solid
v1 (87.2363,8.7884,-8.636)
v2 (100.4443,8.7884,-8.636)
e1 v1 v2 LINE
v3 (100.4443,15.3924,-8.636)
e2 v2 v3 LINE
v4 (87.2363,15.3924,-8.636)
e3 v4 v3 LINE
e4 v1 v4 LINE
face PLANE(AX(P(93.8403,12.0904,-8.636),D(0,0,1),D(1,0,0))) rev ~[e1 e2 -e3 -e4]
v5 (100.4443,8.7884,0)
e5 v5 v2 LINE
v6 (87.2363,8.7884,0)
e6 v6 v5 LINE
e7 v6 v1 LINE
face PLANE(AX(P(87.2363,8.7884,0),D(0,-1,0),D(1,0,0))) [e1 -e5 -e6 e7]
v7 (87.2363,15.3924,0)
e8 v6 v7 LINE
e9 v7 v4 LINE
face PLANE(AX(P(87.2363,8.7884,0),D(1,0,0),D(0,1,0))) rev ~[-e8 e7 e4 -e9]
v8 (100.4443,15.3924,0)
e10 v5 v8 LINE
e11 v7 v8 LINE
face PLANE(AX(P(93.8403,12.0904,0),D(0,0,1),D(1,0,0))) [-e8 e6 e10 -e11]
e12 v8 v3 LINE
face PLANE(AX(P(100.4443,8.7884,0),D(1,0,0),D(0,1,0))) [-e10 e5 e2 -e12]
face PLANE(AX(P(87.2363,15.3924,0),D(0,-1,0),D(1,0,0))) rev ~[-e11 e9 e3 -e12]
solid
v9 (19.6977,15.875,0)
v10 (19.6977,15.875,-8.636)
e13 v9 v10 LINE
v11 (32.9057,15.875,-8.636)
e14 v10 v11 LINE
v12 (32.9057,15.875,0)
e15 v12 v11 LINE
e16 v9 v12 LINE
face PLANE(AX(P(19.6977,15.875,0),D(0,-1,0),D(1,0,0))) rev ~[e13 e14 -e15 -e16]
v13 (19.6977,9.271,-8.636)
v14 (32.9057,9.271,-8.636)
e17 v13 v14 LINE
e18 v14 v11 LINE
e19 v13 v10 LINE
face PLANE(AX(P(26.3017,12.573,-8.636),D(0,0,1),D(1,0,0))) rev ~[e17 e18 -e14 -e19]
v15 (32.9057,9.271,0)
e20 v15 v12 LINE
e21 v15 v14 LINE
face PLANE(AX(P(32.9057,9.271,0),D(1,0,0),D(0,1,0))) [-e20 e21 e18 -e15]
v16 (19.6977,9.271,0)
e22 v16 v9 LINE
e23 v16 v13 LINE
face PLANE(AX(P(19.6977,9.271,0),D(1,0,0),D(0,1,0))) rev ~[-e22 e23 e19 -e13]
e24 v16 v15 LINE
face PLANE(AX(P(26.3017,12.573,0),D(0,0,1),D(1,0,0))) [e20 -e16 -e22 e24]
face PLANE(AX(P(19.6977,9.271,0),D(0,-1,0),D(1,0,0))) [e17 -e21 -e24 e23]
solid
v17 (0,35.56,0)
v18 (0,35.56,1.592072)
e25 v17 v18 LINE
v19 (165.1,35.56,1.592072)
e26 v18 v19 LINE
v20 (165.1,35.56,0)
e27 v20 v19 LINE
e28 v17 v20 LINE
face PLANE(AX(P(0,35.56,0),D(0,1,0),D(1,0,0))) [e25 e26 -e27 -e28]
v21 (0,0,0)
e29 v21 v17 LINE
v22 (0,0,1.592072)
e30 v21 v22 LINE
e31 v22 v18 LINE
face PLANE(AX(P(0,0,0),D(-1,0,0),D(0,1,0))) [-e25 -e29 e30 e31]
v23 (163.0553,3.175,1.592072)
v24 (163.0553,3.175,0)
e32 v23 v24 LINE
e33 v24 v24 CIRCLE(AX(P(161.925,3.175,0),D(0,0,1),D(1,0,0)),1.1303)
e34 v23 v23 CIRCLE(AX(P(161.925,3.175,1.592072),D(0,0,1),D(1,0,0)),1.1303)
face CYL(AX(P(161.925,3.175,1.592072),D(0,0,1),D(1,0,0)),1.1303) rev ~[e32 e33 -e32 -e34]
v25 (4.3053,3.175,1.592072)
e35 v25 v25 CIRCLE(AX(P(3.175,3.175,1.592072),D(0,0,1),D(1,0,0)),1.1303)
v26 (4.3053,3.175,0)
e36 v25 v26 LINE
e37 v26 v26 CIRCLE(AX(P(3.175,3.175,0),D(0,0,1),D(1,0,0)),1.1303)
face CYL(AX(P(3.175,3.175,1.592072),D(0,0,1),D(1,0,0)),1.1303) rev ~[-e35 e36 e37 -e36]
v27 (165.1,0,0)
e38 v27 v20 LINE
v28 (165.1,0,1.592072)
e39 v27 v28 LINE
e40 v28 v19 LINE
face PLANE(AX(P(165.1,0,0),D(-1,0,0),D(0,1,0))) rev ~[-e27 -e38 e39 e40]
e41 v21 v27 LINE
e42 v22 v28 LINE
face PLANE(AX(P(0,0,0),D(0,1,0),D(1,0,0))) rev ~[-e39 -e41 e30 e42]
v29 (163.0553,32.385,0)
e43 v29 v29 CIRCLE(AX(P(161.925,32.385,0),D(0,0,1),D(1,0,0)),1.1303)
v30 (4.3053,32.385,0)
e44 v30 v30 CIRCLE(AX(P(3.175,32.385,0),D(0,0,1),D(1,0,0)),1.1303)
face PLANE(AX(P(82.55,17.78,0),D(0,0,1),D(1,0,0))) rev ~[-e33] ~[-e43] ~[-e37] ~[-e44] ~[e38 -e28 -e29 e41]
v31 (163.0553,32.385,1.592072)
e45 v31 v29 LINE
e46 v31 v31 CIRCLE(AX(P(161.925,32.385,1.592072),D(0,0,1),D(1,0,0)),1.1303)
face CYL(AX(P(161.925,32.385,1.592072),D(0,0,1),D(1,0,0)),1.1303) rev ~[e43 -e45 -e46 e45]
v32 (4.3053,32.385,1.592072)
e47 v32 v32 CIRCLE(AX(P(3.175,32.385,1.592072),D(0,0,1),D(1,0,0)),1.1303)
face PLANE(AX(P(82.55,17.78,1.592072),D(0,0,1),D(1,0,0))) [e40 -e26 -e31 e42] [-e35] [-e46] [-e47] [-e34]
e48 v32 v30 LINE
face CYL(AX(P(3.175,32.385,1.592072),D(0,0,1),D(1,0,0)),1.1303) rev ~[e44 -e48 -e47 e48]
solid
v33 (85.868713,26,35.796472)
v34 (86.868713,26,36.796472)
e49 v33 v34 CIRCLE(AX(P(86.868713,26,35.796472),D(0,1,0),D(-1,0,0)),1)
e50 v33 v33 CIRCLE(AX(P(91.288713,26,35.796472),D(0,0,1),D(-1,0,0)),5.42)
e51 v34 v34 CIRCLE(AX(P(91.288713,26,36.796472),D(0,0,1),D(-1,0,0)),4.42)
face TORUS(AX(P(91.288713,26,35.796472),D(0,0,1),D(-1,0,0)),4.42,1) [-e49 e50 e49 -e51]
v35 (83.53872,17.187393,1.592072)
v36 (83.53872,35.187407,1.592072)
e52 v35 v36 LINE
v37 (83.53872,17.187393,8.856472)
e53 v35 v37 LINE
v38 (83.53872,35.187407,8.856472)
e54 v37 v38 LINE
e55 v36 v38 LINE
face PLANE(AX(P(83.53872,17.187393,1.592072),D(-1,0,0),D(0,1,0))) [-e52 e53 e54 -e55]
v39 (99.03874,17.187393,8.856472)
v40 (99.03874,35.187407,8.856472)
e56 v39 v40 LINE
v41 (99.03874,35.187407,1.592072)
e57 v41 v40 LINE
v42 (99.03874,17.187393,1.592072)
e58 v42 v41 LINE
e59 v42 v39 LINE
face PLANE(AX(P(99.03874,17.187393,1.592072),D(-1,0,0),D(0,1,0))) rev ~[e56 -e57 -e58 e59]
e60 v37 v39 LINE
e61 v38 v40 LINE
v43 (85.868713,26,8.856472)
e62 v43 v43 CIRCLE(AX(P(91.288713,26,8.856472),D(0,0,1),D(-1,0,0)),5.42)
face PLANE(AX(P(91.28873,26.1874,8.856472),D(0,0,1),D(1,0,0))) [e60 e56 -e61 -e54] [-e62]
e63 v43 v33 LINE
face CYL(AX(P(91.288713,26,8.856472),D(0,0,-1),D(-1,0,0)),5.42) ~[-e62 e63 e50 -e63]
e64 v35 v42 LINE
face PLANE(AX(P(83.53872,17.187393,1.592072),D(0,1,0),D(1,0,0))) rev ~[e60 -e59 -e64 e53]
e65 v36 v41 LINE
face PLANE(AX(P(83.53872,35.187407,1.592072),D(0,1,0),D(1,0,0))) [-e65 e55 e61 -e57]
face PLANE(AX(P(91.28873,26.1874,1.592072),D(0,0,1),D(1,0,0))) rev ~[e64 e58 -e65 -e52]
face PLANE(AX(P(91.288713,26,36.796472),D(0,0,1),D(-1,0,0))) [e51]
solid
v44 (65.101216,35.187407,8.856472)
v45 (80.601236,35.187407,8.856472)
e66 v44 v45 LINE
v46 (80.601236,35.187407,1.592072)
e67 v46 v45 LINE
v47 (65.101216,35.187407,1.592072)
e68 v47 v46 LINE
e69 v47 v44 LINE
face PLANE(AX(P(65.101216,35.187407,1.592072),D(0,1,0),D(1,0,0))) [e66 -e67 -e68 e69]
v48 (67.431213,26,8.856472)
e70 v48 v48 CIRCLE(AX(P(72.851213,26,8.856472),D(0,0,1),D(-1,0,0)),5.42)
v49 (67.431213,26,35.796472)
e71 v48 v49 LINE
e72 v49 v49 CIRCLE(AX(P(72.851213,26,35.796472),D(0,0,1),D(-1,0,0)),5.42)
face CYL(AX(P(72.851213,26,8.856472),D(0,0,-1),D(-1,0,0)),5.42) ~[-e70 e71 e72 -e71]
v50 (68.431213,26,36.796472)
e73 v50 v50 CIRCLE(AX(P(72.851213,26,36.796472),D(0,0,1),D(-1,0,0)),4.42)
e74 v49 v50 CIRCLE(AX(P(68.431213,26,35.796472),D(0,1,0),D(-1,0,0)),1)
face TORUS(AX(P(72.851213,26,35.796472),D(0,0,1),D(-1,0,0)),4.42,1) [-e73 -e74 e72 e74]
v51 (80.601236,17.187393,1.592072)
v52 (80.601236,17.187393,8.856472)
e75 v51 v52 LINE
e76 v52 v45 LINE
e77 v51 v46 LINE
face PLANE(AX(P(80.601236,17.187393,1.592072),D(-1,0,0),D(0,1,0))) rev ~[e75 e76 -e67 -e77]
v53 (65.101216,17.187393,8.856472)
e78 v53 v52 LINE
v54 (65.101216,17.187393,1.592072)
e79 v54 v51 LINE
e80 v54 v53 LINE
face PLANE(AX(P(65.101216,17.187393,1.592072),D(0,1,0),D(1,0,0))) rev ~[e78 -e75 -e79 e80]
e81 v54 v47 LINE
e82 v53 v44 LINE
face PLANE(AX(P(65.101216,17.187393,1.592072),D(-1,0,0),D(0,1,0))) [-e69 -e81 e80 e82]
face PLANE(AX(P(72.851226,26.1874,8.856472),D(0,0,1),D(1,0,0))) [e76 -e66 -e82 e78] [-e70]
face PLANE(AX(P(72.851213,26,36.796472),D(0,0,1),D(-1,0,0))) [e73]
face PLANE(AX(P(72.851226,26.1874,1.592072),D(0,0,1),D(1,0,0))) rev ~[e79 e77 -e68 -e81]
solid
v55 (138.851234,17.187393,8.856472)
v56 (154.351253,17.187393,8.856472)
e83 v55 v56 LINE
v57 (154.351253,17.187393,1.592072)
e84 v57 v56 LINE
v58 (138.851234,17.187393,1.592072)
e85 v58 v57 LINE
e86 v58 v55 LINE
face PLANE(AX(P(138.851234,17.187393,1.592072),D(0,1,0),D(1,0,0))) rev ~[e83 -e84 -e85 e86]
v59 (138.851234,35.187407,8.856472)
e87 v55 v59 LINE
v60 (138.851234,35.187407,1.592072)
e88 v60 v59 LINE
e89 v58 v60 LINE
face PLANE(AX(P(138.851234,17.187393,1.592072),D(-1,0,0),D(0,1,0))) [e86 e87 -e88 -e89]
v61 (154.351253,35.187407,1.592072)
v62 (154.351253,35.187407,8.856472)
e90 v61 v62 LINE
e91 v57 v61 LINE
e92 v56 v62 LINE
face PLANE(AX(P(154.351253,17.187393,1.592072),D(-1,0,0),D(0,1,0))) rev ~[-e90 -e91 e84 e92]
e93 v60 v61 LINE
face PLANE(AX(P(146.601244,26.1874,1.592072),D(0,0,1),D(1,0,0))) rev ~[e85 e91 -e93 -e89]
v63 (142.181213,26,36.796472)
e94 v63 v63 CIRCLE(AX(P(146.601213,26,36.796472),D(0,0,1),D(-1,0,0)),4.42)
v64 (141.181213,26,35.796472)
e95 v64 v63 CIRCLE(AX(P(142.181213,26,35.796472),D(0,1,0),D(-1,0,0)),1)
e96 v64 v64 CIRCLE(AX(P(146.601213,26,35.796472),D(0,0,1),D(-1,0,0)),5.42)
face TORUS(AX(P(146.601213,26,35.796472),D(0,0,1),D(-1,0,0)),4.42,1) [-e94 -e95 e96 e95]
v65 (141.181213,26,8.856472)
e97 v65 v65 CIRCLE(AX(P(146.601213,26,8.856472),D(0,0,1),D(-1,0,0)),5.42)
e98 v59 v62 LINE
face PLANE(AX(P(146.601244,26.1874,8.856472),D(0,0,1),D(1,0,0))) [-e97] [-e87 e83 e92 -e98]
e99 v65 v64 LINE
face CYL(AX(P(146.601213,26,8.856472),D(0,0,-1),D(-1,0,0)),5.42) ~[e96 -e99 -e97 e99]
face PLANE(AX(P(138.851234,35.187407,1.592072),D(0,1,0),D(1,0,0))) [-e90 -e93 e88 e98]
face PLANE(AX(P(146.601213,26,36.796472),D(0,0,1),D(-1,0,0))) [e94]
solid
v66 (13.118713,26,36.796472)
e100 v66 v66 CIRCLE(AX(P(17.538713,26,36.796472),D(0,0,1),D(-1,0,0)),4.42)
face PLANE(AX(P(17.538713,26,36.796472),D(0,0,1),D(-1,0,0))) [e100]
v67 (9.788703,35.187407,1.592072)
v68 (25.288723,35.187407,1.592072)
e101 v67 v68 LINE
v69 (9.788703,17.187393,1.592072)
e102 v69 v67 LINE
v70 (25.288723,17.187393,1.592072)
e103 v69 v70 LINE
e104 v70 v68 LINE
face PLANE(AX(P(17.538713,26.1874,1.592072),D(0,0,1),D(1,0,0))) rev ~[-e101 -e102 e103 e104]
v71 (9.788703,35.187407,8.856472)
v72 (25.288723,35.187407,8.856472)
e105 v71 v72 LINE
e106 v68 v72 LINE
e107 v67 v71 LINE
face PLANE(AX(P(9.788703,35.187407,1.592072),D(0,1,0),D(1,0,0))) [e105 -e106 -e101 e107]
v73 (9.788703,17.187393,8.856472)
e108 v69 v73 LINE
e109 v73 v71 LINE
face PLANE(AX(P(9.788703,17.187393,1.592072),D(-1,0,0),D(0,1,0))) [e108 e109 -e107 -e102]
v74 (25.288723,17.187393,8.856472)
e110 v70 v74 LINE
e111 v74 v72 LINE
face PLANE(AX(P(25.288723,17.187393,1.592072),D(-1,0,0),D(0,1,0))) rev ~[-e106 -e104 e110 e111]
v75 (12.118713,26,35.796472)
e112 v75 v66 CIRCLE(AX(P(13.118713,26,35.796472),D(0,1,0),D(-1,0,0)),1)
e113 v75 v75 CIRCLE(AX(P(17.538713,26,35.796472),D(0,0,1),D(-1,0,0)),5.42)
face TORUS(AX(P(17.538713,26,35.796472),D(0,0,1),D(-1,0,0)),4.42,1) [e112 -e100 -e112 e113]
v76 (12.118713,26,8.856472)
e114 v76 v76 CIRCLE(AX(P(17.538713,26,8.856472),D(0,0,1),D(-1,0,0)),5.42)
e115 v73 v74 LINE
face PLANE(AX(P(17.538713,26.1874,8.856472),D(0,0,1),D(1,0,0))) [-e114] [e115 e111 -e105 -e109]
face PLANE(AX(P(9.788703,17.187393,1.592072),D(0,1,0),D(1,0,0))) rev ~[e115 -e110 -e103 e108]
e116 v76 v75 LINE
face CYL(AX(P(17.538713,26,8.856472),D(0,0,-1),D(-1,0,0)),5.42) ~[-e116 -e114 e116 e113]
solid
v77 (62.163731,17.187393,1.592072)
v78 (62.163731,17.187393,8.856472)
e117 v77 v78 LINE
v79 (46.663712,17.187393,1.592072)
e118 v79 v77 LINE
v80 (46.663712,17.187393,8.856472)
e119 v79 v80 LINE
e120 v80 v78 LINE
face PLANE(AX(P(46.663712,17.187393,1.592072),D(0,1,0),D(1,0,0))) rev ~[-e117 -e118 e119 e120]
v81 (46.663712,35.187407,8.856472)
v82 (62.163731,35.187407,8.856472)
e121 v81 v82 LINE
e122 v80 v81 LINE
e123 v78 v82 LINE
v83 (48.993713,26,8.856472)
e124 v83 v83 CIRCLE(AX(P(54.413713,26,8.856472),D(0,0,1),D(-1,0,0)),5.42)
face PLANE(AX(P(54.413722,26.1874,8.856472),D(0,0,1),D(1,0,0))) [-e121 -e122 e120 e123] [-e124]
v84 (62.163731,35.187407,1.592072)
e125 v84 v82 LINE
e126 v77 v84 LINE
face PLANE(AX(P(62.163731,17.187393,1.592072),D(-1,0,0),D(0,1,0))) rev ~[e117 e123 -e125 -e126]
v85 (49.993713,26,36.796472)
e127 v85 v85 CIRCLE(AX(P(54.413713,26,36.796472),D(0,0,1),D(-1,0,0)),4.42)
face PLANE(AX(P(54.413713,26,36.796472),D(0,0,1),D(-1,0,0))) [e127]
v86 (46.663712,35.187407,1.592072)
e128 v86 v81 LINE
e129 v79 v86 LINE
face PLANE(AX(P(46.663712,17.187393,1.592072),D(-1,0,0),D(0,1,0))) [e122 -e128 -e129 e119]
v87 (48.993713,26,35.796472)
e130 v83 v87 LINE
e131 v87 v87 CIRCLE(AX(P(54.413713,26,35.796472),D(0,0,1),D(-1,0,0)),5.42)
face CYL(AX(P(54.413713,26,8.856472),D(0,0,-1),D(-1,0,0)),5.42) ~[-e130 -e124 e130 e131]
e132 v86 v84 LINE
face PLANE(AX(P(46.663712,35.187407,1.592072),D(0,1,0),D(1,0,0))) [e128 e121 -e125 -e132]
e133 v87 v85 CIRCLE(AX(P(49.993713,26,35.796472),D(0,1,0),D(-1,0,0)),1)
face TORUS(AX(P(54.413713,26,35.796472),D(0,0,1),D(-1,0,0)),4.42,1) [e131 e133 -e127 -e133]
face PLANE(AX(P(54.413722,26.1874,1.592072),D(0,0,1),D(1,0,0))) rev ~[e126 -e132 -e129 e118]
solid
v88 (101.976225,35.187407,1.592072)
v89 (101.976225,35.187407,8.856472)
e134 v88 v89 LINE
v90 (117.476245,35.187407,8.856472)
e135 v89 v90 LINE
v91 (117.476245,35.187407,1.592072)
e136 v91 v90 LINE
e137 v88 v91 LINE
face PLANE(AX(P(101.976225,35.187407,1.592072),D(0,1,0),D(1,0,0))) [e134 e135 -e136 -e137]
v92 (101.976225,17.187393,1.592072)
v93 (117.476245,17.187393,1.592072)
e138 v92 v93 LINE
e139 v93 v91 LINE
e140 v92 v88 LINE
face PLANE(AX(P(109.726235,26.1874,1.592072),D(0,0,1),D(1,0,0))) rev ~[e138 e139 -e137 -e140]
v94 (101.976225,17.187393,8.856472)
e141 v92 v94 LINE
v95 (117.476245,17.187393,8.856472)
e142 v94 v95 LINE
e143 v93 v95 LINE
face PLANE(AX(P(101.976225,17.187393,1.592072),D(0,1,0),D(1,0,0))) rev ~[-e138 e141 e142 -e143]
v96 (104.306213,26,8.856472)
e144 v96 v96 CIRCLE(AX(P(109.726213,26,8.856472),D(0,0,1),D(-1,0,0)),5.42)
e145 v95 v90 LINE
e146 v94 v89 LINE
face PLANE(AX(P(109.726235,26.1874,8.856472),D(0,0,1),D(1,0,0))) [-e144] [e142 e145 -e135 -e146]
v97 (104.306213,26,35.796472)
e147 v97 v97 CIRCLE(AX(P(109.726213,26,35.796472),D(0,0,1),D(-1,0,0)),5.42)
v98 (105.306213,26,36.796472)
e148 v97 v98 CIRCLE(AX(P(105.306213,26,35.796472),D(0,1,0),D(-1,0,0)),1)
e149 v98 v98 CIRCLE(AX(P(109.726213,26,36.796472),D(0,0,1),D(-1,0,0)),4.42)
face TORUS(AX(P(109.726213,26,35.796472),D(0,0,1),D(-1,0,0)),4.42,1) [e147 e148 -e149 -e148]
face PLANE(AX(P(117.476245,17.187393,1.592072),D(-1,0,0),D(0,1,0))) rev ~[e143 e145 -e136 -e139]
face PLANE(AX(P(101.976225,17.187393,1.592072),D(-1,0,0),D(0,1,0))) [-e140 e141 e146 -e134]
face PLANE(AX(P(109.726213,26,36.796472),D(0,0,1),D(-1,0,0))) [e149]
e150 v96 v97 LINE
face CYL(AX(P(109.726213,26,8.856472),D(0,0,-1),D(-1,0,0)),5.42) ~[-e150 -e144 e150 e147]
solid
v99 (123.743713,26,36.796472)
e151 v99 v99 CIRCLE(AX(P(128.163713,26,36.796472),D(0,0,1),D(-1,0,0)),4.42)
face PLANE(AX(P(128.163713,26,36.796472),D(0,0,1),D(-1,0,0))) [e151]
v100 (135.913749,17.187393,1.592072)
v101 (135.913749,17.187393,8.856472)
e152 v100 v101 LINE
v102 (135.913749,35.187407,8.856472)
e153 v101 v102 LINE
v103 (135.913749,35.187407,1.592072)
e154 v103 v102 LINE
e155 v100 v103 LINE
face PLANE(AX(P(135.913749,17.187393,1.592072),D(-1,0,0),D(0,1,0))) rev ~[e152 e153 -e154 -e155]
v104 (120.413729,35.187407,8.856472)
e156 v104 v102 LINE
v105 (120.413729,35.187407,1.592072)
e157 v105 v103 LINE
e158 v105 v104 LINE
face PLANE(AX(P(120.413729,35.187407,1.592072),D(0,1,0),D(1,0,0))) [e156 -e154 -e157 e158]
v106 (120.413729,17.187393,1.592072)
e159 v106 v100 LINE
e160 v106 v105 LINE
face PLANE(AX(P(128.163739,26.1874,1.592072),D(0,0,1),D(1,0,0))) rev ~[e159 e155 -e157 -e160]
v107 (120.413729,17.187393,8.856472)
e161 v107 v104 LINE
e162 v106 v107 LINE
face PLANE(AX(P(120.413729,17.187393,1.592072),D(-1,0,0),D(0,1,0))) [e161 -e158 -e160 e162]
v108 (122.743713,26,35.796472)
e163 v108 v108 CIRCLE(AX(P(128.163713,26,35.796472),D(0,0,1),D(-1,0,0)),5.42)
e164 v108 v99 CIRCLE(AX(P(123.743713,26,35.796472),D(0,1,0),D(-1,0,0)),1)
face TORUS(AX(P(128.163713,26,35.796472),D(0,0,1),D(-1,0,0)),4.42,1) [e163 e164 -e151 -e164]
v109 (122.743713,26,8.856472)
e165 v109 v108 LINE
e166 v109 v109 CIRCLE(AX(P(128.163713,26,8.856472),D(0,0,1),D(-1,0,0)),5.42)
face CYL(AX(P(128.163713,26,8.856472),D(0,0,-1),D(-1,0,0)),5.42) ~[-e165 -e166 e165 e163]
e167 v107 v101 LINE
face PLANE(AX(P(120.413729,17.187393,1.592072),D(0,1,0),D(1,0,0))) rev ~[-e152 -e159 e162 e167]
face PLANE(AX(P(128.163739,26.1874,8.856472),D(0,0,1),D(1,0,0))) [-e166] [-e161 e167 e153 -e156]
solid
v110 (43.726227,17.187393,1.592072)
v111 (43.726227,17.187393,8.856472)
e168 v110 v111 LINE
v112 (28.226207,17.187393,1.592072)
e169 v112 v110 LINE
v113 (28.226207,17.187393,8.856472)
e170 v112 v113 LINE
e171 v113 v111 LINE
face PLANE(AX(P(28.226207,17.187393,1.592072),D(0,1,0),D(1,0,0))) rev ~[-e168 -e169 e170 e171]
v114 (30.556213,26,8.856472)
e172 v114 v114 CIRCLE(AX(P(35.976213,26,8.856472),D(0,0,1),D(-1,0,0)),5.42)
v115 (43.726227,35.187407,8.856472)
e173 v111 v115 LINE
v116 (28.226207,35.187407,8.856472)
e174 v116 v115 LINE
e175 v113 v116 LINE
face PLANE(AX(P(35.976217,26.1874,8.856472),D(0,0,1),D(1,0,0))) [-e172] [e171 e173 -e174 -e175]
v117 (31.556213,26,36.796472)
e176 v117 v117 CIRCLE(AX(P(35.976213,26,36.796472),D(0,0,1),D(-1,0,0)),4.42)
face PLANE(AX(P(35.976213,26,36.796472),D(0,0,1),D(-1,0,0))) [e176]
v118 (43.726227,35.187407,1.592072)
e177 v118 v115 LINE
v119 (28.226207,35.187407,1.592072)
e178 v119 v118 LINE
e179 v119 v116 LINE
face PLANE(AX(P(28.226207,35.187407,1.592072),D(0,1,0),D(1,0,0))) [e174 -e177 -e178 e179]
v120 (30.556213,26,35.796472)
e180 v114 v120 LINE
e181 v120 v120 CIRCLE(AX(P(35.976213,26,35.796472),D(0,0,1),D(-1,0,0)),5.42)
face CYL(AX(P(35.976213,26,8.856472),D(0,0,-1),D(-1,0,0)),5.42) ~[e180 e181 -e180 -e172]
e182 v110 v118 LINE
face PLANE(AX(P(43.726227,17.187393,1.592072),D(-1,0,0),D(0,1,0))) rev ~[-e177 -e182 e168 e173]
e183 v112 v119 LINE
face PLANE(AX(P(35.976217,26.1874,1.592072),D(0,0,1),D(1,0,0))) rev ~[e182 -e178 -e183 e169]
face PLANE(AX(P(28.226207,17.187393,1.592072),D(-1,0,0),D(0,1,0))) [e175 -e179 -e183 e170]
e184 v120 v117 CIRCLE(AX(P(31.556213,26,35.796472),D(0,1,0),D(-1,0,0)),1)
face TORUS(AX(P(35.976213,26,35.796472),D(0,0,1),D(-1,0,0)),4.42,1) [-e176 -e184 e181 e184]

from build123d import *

# Parameters (mm, degrees)
SKETCH1_W                         = 165.1
SKETCH1_H                         = 35.56
BOARD_DEPTH                       = 1.592072
SKETCH2_W                         = 13.208
SKETCH2_H                         = 6.604
CONN_AMP_2X5PIN_100MIL_ST_1_DEPTH = 8.636
SKETCH3_W                         = 13.208
SKETCH3_H                         = 6.604
CONN_AMP_2X5PIN_100MIL_ST_2_DEPTH = 8.636
SKETCH4_W                         = 15.5000198
SKETCH4_H                         = 18.0000148
SWITCH_EC11E15244_1_DEPTH         = 7.2644
SKETCH5_W                         = 15.5000198
SKETCH5_H                         = 18.0000148
SWITCH_EC11E15244_2_DEPTH         = 7.2644
SKETCH6_W                         = 15.5000198
SKETCH6_H                         = 18.0000148
SWITCH_EC11E15244_3_DEPTH         = 7.2644
SKETCH7_W                         = 15.5000198
SKETCH7_H                         = 18.0000148
SWITCH_EC11E15244_4_DEPTH         = 7.2644
SKETCH8_W                         = 15.5000198
SKETCH8_H                         = 18.0000148
SWITCH_EC11E15244_5_DEPTH         = 7.2644
SKETCH9_W                         = 15.5000198
SKETCH9_H                         = 18.0000148
SWITCH_EC11E15244_6_DEPTH         = 7.2644
SKETCH10_W                        = 15.5000198
SKETCH10_H                        = 18.0000148
SWITCH_EC11E15244_7_DEPTH         = 7.2644
SKETCH11_W                        = 15.5000198
SKETCH11_H                        = 18.0000148
SWITCH_EC11E15244_8_DEPTH         = 7.2644
SKETCH12_R                        = 5.42
BOSS_EXTRUDE12_DEPTH              = 27.94
FILLET2_R                         = 1
LPATTERN1_COUNT                   = 8
LPATTERN1_PITCH                   = 18.4375
FILLET2_OF_LPATTERN1_R            = 1
SKETCH13_R                        = 1.1303
CUT_EXTRUDE1_DEPTH                = 2.54


with BuildPart() as part:
    # Sketch1 → BOARD (new body)
    with BuildSketch(Plane.XY):
        with Locations((82.55, 17.78)):
            Rectangle(SKETCH1_W, SKETCH1_H)
    extrude(amount=BOARD_DEPTH)

    # Sketch13 → Cut-Extrude1 (cut)
    with BuildSketch(Plane.XY.offset(1.592072)):
        with Locations((3.175, 32.385)):
            Circle(SKETCH13_R)
        with Locations((3.175, 3.175)):
            Circle(SKETCH13_R)
        with Locations((161.925, 3.175)):
            Circle(SKETCH13_R)
        with Locations((161.925, 32.385)):
            Circle(SKETCH13_R)
    extrude(amount=-CUT_EXTRUDE1_DEPTH, mode=Mode.SUBTRACT)


with BuildPart() as body_2:
    # Sketch2 → CONN-AMP-2X5PIN-100MIL-ST-1 (new body)
    with BuildSketch(Plane.XY):
        with Locations((93.8403, 12.0904)):
            Rectangle(SKETCH2_W, SKETCH2_H)
    extrude(amount=-CONN_AMP_2X5PIN_100MIL_ST_1_DEPTH)


with BuildPart() as body_3:
    # Sketch3 → CONN-AMP-2X5PIN-100MIL-ST-2 (new body)
    with BuildSketch(Plane.XY):
        with Locations((26.3017, 12.573)):
            Rectangle(SKETCH3_W, SKETCH3_H)
    extrude(amount=-CONN_AMP_2X5PIN_100MIL_ST_2_DEPTH)


with BuildPart() as body_4:
    # Sketch4 → SWITCH-EC11E15244-1 (new body)
    with BuildSketch(Plane.XY.offset(1.592072)):
        with Locations((146.6012435, 26.1874)):
            Rectangle(SKETCH4_W, SKETCH4_H)
    extrude(amount=SWITCH_EC11E15244_1_DEPTH)


with BuildPart() as body_5:
    # Sketch5 → SWITCH-EC11E15244-2 (new body)
    with BuildSketch(Plane.XY.offset(1.592072)):
        with Locations((128.1637391, 26.1874)):
            Rectangle(SKETCH5_W, SKETCH5_H)
    extrude(amount=SWITCH_EC11E15244_2_DEPTH)


with BuildPart() as body_6:
    # Sketch6 → SWITCH-EC11E15244-3 (new body)
    with BuildSketch(Plane.XY.offset(1.592072)):
        with Locations((109.7262347, 26.1874)):
            Rectangle(SKETCH6_W, SKETCH6_H)
    extrude(amount=SWITCH_EC11E15244_3_DEPTH)


with BuildPart() as body_7:
    # Sketch7 → SWITCH-EC11E15244-4 (new body)
    with BuildSketch(Plane.XY.offset(1.592072)):
        with Locations((91.2887303, 26.1874)):
            Rectangle(SKETCH7_W, SKETCH7_H)
    extrude(amount=SWITCH_EC11E15244_4_DEPTH)


with BuildPart() as body_8:
    # Sketch8 → SWITCH-EC11E15244-5 (new body)
    with BuildSketch(Plane.XY.offset(1.592072)):
        with Locations((72.8512259, 26.1874)):
            Rectangle(SKETCH8_W, SKETCH8_H)
    extrude(amount=SWITCH_EC11E15244_5_DEPTH)


with BuildPart() as body_9:
    # Sketch9 → SWITCH-EC11E15244-6 (new body)
    with BuildSketch(Plane.XY.offset(1.592072)):
        with Locations((54.4137215, 26.1874)):
            Rectangle(SKETCH9_W, SKETCH9_H)
    extrude(amount=SWITCH_EC11E15244_6_DEPTH)


with BuildPart() as body_10:
    # Sketch10 → SWITCH-EC11E15244-7 (new body)
    with BuildSketch(Plane.XY.offset(1.592072)):
        with Locations((35.9762171, 26.1874)):
            Rectangle(SKETCH10_W, SKETCH10_H)
    extrude(amount=SWITCH_EC11E15244_7_DEPTH)


with BuildPart() as body_11:
    # Sketch11 → SWITCH-EC11E15244-8 (new body)
    with BuildSketch(Plane.XY.offset(1.592072)):
        with Locations((17.5387127, 26.1874)):
            Rectangle(SKETCH11_W, SKETCH11_H)
    extrude(amount=SWITCH_EC11E15244_8_DEPTH)

    # Sketch12 → Boss-Extrude12 (add)
    with BuildSketch(Plane.XY.offset(8.856472)):
        with Locations(Location((17.5387127, 26, 0), (0, 0, 180))):
            Circle(SKETCH12_R)
    boss_extrude12 = extrude(amount=BOSS_EXTRUDE12_DEPTH)

    # Fillet2
    fillet2_edges = [body_11.edges().sort_by_distance(p)[0] for p in [
        (22.9587127, 26, 36.796472),
    ]]
    fillet(fillet2_edges, radius=FILLET2_R)


with BuildPart() as body_4_1:
    add(body_4.part)

    add(body_5.part)  # LPattern1 merges body 5

    add(body_6.part)  # LPattern1 merges body 6

    add(body_7.part)  # LPattern1 merges body 7

    add(body_8.part)  # LPattern1 merges body 8

    add(body_9.part)  # LPattern1 merges body 9

    add(body_10.part)  # LPattern1 merges body 10
    # LPattern1: Boss-Extrude12 ×8
    with Locations(*[(i * LPATTERN1_PITCH, 0, 0) for i in range(1, LPATTERN1_COUNT)]):
        add(boss_extrude12)

    # Fillet2 of LPattern1
    fillet2_of_lpattern1_edges = [body_4_1.edges().sort_by_distance(p)[0] for p in [
        (41.3962127, 26, 36.796472),
        (59.8337127, 26, 36.796472),
        (78.2712127, 26, 36.796472),
        (96.7087127, 26, 36.796472),
        (115.1462127, 26, 36.796472),
        (133.5837127, 26, 36.796472),
        (152.0212127, 26, 36.796472),
    ]]
    fillet(fillet2_of_lpattern1_edges, radius=FILLET2_OF_LPATTERN1_R)


solid = Compound([part.part, body_2.part, body_3.part, body_11.part, body_4_1.part])
